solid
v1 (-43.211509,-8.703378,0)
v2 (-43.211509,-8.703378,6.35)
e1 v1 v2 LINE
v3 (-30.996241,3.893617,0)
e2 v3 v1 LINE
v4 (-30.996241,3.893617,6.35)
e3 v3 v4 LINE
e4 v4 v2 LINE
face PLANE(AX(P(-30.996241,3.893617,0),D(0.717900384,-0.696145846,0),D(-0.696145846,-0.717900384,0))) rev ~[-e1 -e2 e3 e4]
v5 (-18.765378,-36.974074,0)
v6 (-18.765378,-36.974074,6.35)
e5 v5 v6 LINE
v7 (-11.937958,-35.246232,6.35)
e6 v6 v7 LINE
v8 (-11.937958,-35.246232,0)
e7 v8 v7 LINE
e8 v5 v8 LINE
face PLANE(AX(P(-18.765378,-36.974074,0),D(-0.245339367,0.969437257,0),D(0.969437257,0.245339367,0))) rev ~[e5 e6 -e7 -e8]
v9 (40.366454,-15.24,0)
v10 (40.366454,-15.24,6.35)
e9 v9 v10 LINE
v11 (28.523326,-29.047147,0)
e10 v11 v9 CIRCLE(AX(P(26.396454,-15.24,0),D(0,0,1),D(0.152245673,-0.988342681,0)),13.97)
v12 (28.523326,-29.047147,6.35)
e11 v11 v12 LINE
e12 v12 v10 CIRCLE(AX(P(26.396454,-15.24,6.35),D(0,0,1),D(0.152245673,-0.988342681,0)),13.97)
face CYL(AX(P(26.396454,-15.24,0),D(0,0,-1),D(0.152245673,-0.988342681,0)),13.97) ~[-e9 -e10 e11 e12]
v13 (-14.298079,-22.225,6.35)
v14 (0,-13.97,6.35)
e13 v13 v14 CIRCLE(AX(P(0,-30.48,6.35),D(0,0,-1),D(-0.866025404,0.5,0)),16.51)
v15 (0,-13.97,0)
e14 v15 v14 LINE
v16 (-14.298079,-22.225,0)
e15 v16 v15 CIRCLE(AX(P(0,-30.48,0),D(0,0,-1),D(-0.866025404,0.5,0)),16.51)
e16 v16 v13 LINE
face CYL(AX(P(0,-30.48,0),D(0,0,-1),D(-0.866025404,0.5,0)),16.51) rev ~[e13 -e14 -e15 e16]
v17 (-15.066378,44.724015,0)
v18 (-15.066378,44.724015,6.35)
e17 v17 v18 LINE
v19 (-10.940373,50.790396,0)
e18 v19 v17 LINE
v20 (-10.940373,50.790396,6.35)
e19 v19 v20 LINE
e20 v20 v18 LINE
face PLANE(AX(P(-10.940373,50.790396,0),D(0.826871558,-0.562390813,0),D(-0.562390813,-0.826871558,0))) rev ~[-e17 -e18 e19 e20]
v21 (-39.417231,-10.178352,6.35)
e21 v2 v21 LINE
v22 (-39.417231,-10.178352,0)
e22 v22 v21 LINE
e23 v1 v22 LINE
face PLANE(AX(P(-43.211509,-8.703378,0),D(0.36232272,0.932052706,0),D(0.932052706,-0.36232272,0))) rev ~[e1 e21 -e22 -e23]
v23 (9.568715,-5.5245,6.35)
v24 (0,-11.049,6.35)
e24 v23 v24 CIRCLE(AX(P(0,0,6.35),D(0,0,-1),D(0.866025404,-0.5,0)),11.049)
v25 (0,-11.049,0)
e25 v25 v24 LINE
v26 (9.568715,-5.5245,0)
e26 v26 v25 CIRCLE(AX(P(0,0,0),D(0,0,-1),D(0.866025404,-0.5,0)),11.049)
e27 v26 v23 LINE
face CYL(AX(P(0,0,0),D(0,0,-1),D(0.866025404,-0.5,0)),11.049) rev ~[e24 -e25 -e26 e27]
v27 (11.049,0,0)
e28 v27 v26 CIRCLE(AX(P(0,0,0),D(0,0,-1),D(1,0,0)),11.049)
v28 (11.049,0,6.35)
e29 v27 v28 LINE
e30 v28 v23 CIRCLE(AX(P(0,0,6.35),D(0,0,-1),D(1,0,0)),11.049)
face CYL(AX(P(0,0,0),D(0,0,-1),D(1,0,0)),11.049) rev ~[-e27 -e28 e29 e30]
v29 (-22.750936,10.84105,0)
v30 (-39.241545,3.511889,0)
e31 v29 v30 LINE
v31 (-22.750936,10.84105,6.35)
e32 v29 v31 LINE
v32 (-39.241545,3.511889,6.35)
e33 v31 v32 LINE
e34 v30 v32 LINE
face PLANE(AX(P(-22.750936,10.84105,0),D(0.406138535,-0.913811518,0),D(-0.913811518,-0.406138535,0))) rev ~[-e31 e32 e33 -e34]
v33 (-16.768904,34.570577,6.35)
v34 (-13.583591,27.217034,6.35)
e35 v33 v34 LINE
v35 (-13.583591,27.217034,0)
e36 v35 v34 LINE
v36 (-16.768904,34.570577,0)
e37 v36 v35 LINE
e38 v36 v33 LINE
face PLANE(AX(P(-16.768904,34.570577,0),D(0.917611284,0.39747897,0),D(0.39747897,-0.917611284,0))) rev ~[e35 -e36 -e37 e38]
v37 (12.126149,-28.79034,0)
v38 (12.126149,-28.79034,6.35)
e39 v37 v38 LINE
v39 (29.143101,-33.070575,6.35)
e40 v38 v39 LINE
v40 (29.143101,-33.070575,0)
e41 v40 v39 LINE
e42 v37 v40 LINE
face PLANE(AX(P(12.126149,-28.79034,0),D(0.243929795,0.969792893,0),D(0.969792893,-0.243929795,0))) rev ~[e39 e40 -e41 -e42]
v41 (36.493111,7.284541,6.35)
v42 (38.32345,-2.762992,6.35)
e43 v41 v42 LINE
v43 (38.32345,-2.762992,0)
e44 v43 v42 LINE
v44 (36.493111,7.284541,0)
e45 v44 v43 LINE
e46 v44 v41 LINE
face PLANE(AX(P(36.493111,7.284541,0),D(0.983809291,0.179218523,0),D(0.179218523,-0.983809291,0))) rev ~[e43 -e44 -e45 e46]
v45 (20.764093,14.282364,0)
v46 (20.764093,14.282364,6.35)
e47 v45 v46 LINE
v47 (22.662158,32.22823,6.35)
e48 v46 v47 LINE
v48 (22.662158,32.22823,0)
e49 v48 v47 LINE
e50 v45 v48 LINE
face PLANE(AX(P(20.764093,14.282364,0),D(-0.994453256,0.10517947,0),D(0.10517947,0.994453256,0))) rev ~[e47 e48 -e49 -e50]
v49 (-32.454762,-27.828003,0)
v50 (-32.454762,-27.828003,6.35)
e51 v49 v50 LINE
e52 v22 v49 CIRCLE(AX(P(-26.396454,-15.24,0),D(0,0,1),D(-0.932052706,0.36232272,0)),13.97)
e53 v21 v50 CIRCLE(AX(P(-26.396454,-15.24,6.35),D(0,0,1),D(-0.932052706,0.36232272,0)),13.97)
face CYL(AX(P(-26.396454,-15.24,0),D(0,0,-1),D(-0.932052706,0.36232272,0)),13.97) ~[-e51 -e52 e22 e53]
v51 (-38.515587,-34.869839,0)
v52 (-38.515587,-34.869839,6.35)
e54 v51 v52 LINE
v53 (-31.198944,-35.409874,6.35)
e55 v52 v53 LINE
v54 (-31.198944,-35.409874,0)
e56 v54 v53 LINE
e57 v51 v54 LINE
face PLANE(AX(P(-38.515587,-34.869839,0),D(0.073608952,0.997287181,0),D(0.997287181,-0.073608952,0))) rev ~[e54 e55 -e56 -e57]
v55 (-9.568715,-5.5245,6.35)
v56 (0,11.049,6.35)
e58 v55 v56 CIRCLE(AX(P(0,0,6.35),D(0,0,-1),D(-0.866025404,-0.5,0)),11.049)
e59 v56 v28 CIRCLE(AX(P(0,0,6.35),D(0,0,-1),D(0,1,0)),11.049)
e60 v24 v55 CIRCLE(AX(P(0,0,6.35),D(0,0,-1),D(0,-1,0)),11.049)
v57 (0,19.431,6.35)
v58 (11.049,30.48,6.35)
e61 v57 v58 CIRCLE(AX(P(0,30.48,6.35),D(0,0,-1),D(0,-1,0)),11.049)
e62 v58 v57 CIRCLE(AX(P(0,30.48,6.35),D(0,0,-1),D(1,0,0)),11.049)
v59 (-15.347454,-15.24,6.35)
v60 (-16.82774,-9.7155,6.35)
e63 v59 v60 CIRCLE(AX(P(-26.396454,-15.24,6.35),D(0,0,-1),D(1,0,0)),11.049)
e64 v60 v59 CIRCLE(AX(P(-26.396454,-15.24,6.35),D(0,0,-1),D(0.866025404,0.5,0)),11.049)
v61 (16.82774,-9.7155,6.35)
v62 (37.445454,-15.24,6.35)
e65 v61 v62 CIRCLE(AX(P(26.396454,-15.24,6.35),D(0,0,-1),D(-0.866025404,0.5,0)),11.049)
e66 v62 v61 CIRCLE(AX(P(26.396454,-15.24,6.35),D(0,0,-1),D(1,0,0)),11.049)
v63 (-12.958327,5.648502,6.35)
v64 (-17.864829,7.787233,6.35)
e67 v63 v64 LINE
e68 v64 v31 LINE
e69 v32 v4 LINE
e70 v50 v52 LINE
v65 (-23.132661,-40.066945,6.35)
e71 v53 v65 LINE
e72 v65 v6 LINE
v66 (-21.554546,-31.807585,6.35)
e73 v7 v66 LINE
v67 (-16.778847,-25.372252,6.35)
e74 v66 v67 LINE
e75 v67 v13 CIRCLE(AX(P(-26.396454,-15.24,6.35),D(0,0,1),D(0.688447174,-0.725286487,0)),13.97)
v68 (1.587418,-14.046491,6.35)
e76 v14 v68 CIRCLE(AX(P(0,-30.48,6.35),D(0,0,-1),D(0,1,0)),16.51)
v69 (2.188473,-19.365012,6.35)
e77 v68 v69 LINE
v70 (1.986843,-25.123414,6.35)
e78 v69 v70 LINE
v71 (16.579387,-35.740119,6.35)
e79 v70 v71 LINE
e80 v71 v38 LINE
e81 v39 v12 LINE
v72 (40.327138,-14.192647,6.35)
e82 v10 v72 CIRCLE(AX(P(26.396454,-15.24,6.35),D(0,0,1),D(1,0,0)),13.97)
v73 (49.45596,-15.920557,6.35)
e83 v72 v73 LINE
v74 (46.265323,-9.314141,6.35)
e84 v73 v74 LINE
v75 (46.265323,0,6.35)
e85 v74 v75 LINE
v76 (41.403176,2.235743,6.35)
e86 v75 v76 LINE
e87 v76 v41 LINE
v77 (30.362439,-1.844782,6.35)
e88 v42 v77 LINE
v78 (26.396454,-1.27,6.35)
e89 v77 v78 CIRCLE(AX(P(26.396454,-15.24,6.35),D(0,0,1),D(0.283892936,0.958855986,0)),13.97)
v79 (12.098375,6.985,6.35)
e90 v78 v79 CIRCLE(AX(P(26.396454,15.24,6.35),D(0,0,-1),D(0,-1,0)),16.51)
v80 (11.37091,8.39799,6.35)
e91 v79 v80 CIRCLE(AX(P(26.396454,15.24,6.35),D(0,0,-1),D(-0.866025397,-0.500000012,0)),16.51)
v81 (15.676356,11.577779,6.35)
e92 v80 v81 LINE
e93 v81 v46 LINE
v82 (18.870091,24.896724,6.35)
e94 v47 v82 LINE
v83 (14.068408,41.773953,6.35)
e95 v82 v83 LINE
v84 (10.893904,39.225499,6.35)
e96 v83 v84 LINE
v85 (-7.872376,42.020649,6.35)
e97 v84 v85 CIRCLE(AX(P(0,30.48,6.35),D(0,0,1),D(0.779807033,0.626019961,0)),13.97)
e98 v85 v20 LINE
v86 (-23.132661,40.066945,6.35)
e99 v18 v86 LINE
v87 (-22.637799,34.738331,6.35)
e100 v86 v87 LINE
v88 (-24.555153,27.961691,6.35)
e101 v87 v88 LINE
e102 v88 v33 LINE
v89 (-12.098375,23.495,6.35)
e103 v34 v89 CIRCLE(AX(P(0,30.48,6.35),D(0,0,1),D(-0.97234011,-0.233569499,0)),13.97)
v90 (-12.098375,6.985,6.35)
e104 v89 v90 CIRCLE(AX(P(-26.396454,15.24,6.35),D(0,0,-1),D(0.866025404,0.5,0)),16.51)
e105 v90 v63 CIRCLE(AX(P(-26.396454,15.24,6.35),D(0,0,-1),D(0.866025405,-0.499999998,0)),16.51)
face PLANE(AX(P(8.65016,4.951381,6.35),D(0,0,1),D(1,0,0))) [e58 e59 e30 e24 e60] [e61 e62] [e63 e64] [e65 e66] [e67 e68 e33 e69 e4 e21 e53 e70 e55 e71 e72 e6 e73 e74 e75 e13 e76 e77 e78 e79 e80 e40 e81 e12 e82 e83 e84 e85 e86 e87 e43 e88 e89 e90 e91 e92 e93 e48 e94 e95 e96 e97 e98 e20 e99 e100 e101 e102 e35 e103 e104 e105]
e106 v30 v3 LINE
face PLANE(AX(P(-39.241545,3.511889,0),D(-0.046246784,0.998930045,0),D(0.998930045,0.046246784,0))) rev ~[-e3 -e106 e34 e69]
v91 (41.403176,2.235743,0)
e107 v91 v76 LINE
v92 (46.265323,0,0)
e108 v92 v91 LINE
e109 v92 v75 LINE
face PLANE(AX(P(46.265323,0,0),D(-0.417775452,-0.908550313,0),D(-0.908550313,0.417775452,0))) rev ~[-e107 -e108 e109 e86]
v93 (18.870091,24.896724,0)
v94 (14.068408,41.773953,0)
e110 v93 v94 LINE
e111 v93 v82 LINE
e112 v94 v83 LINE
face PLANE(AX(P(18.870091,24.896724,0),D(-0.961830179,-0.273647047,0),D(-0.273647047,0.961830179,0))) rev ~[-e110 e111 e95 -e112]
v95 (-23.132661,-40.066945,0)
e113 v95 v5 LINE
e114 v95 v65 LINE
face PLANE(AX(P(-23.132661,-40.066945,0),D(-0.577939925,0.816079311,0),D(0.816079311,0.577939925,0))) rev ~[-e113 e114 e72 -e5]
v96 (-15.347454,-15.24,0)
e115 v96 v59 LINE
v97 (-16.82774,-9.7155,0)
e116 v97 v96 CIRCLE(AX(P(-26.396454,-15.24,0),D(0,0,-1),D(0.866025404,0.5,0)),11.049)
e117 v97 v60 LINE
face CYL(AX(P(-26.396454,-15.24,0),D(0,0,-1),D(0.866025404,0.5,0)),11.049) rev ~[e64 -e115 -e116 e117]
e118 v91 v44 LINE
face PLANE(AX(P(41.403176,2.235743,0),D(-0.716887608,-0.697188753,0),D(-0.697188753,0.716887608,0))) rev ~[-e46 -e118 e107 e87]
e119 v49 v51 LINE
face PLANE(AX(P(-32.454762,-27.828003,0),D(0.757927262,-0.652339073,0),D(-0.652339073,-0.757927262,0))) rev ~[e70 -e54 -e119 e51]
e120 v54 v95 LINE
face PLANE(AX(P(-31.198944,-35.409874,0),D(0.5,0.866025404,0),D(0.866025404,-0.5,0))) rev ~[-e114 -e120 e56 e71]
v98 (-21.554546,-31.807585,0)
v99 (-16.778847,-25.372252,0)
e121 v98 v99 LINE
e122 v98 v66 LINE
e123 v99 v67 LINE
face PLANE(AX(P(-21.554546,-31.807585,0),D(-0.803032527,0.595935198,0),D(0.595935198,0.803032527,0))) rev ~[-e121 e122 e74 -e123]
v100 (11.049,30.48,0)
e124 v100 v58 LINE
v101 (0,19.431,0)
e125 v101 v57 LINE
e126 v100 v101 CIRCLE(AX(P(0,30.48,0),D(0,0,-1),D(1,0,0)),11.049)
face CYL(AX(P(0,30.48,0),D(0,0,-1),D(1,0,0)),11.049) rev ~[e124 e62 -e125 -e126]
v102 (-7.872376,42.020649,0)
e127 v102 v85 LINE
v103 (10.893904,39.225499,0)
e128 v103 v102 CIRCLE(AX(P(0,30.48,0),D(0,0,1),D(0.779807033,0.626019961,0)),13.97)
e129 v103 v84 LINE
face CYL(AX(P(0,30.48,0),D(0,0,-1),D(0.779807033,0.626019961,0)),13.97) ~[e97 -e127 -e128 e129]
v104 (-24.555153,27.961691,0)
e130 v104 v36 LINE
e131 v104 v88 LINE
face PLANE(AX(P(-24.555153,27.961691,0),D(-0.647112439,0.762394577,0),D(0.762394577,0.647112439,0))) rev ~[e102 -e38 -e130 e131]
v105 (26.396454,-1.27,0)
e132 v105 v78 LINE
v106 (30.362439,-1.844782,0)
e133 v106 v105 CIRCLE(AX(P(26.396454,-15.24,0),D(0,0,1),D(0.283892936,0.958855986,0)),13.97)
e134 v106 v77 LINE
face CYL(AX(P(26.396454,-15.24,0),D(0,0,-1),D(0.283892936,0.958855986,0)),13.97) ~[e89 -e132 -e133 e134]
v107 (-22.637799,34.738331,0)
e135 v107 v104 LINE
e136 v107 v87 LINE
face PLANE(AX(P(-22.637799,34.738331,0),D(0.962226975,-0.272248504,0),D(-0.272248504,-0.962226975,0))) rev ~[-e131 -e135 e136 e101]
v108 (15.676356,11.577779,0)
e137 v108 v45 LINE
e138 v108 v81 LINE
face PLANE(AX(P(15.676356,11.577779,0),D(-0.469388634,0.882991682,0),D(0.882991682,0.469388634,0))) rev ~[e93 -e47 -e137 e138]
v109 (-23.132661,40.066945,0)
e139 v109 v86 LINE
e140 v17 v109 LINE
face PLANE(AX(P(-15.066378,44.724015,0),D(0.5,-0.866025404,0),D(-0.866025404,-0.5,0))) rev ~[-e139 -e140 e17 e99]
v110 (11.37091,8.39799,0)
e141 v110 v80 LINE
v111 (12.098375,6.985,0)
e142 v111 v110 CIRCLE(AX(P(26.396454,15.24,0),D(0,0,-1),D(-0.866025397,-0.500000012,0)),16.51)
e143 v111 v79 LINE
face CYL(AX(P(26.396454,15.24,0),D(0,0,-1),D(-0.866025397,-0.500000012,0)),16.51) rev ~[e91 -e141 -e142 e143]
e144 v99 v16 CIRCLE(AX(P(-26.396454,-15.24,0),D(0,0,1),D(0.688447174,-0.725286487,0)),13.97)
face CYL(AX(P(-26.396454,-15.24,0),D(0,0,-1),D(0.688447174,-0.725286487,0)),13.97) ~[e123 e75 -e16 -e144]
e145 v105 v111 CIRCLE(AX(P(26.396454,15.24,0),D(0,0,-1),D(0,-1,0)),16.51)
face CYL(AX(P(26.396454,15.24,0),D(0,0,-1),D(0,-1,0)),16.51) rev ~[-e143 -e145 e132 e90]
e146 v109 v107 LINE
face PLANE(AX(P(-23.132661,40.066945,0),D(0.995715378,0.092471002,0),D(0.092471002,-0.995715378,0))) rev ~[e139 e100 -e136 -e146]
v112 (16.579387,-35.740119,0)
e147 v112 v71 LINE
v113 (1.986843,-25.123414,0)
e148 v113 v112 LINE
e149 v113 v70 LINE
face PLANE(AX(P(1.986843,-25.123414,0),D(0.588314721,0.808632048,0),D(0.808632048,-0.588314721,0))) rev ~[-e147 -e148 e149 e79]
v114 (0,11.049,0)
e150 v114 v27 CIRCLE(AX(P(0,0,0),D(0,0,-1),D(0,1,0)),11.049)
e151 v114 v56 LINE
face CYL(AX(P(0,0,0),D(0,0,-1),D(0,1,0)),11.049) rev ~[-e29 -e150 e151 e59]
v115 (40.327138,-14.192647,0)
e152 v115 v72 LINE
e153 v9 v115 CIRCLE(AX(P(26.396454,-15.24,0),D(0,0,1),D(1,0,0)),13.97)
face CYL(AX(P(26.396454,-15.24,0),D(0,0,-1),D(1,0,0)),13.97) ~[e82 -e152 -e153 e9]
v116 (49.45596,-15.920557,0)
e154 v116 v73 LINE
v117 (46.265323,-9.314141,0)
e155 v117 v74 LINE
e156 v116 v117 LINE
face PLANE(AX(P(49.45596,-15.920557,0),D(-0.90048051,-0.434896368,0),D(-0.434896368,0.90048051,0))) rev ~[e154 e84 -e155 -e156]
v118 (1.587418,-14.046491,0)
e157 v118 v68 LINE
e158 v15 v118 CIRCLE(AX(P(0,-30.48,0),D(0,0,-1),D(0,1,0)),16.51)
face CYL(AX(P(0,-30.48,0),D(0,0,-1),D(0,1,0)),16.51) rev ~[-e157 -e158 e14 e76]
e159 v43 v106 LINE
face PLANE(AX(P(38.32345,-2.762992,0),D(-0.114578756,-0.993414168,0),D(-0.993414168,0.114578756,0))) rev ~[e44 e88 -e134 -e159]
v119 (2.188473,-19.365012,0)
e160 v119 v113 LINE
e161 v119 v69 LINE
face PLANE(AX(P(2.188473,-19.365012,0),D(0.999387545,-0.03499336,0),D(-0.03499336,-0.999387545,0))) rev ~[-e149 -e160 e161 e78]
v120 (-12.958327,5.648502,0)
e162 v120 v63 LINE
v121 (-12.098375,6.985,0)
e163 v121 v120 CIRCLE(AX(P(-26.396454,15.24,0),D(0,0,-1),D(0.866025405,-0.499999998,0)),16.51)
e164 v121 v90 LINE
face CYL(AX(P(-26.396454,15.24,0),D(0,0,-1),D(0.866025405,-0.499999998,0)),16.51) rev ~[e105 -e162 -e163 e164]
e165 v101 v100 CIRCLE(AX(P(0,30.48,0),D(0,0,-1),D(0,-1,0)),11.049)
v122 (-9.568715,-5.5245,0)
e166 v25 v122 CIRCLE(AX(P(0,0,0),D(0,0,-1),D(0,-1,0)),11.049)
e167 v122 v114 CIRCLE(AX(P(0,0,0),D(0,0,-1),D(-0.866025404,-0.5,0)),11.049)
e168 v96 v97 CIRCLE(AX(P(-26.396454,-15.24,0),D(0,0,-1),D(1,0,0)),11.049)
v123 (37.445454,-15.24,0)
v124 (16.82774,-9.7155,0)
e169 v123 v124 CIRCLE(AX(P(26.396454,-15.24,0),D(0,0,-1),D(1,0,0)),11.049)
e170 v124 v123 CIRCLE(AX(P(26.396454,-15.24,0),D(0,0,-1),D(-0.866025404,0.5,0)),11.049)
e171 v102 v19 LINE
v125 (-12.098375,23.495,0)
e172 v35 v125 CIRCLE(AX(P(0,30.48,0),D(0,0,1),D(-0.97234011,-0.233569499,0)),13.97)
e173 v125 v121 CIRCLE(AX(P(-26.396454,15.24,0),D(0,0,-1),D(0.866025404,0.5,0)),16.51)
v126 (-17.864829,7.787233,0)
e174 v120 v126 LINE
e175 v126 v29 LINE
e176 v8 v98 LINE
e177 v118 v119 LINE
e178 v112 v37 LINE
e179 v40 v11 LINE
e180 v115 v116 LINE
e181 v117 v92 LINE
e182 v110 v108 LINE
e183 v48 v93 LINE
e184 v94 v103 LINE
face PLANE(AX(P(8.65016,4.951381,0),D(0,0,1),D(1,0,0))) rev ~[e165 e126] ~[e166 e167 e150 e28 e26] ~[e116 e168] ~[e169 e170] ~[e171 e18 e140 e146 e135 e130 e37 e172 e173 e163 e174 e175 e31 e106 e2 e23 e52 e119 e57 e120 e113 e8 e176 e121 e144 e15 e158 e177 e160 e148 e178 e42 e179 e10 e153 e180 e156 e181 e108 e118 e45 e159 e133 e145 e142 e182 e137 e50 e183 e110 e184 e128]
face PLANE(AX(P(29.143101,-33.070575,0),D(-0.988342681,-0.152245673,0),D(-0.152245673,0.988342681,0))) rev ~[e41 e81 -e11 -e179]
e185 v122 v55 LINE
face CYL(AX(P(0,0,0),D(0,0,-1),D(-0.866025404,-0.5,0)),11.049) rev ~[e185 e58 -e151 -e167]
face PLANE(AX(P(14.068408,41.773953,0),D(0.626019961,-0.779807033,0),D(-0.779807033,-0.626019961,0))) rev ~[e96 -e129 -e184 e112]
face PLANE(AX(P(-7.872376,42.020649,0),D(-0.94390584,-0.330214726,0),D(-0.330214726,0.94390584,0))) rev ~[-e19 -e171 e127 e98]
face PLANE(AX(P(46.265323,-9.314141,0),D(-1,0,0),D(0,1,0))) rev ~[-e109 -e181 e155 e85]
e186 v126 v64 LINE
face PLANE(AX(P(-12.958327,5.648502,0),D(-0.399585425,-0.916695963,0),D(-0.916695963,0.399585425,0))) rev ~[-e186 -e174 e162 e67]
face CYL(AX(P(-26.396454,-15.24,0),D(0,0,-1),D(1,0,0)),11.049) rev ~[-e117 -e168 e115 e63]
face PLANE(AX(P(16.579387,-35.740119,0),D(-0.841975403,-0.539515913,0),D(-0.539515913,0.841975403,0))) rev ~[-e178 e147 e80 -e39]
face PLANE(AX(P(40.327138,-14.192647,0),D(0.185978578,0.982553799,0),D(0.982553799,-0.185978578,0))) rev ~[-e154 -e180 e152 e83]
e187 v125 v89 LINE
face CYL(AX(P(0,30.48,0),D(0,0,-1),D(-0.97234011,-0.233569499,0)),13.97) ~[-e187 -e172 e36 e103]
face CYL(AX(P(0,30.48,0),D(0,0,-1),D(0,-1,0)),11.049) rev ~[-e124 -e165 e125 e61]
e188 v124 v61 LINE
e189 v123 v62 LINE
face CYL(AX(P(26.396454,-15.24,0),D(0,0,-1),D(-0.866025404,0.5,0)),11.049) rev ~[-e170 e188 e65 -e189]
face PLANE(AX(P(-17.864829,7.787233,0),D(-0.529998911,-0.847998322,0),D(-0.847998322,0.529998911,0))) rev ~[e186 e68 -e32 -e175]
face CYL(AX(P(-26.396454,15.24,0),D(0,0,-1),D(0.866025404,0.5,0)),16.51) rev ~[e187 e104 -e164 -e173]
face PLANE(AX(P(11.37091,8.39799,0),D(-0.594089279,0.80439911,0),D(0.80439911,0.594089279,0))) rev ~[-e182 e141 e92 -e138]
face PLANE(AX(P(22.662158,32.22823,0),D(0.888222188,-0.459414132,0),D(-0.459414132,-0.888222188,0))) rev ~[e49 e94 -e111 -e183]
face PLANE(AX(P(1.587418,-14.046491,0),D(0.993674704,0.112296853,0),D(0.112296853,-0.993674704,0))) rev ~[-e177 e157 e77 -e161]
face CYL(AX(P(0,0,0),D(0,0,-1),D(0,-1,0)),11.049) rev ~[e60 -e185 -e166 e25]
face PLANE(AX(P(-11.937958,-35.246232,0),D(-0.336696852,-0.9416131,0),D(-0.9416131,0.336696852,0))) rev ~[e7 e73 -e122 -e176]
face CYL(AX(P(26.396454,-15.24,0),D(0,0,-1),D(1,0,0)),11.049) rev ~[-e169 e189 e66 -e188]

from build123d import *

# Parameters (mm, degrees)
F1_DEPTH = 6.35


with BuildPart() as f1:
    # F0 (on Top) → F1 (new body)
    with BuildSketch(Plane.XY):
        with BuildLine():
            ThreePointArc((12.0983748909, -6.985), (13.4939837933, -3.6157020601), (13.97, 0))
            ThreePointArc((13.97, 0), (13.4939838226, 3.6157019506), (12.0983750042, 6.9849998037))
            ThreePointArc((12.0983750042, 6.9849998037), (11.6864099278, 7.6543270769), (11.2374555691, 8.2994272292))
            ThreePointArc((11.2374555691, 8.2994272292), (6.2935642369, 12.4720467124), (0, 13.97))
            Line((0, 13.97), (0, 11.049))
            ThreePointArc((0, 11.049), (7.8128228253, 7.8128228253), (11.049, 0))
            ThreePointArc((11.049, 0), (10.6725144547, -2.8596916293), (9.5687146864, -5.5245))
            Line((9.5687146864, -5.5245), (12.0983748909, -6.985))
        make_face()
        with BuildLine():
            ThreePointArc((12.0983750042, 6.9849998037), (13.4939838226, 3.6157019506), (13.97, 0))
            ThreePointArc((13.97, 0), (13.4939837933, -3.6157020601), (12.0983748909, -6.985))
            Line((12.0983748909, -6.985), (14.2980794165, -8.255))
            ThreePointArc((14.2980794165, -8.255), (19.4114543073, -3.1416251091), (26.3964543073, -1.27))
            ThreePointArc((26.3964543073, -1.27), (18.1414544055, 0.9419205269), (12.0983750042, 6.9849998037))
        make_face()
        with BuildLine():
            ThreePointArc((11.2374555691, 8.2994272292), (11.6864099278, 7.6543270769), (12.0983750042, 6.9849998037))
            ThreePointArc((12.0983750042, 6.9849998037), (11.7176305412, 7.6827364184), (11.3709095484, 8.3979897181))
            Line((11.3709095484, 8.3979897181), (11.2374555691, 8.2994272292))
        make_face()
        with BuildLine():
            Line((14.2980794165, -8.255), (12.0983748909, -6.985))
            ThreePointArc((12.0983748909, -6.985), (7.6543271717, -11.6864098657), (1.5687870328, -13.8816356113))
            Line((1.5687870328, -13.8816356113), (1.5874176624, -14.0464913921))
            ThreePointArc((1.5874176624, -14.0464913921), (8.9336025837, -16.5958059335), (14.2980794165, -22.225))
            ThreePointArc((14.2980794165, -22.225), (12.4264543073, -15.24), (14.2980794165, -8.255))
        make_face()
        with BuildLine():
            ThreePointArc((1.5687870328, -13.8816356113), (7.6543271717, -11.6864098657), (12.0983748909, -6.985))
            Line((12.0983748909, -6.985), (9.5687146864, -5.5245))
            ThreePointArc((9.5687146864, -5.5245), (5.5245, -9.5687146864), (0, -11.049))
            Line((0, -11.049), (0, -13.97))
            ThreePointArc((8e-10, -13.97), (0.7856368471, -13.9478914085), (1.5687870328, -13.8816356113))
        make_face()
        with BuildLine():
            ThreePointArc((0, 13.97), (6.2935642369, 12.4720467124), (11.2374555691, 8.2994272292))
            Line((11.2374555691, 8.2994272292), (11.3709095484, 8.3979897181))
            ThreePointArc((11.3709095484, 8.3979897181), (9.9055882428, 16.0346297515), (12.0983748909, 23.495))
            ThreePointArc((12.0983748909, 23.495), (6.985, 18.3816251091), (0, 16.51))
            Line((0, 16.51), (0, 13.97))
        make_face()
        with BuildLine():
            ThreePointArc((12.0983748909, 23.495), (9.9055882428, 16.0346297515), (11.3709095484, 8.3979897181))
            Line((11.3709095484, 8.3979897181), (15.6763562571, 11.5777790778))
            Line((15.6763562571, 11.5777790778), (16.7196467519, 28.9592776589))
            Line((16.7196467519, 28.9592776589), (14.0684077992, 41.7739531481))
            Line((14.0684077992, 41.7739531481), (10.8939042526, 39.22549885))
            ThreePointArc((10.8939042526, 39.22549885), (13.1785572505, 35.1153563828), (13.97, 30.48))
            ThreePointArc((13.97, 30.48), (13.4939837933, 26.8642979399), (12.0983748909, 23.495))
        make_face()
        with BuildLine():
            ThreePointArc((30.3624386184, -1.8447818814), (28.4001637278, -1.4144421972), (26.3964543073, -1.27))
            ThreePointArc((26.3964543073, -1.27), (19.4114543073, -3.1416251091), (14.2980794165, -8.255))
            ThreePointArc((14.2980794165, -8.255), (12.4264543073, -15.24), (14.2980794165, -22.225))
            ThreePointArc((14.2980794165, -22.225), (20.3554990408, -27.8363391296), (28.5233263539, -29.0471472541))
            ThreePointArc((28.5233263539, -29.0471472541), (37.0000693157, -24.3352871728), (40.3664543073, -15.24))
            ThreePointArc((40.3664543073, -15.24), (40.3566217968, -14.7159545186), (40.327138106, -14.1926467154))
            ThreePointArc((40.327138106, -14.1926467154), (37.2679824358, -6.4667009538), (30.3624386184, -1.8447818814))
        make_face()
        with BuildLine():
            ThreePointArc((37.4454543073, -15.24), (23.536762678, -25.9125144547), (16.8277396209, -9.7155))
            ThreePointArc((16.8277396209, -9.7155), (29.2561459367, -4.5674855453), (37.4454543073, -15.24))
        make_face(mode=Mode.SUBTRACT)
        with BuildLine():
            Line((1.5874176624, -14.0464913921), (1.5687870328, -13.8816356113))
            ThreePointArc((1.5687870328, -13.8816356113), (0.7856368471, -13.9478914085), (8e-10, -13.97))
            ThreePointArc((8e-10, -13.97), (0.7946297519, -13.9891339355), (1.5874176624, -14.0464913921))
        make_face()
        with BuildLine():
            Line((0, 11.049), (0, 13.97))
            ThreePointArc((0, 13.97), (-6.9849999862, 12.0983748988), (-12.0983748749, 6.9850000276))
            ThreePointArc((-12.0983748749, 6.9850000276), (-12.4720467052, 6.2935642511), (-12.8062426019, 5.5822083821))
            ThreePointArc((-12.8062426019, 5.5822083821), (-13.9478914086, -0.7856368467), (-12.0983748909, -6.985))
            Line((-12.0983748909, -6.985), (-9.5687146864, -5.5245))
            ThreePointArc((-9.5687146864, -5.5245), (-9.5687146864, 5.5245), (0, 11.049))
        make_face()
        with BuildLine():
            ThreePointArc((-12.0983748749, 6.9850000276), (-6.9849999862, 12.0983748988), (0, 13.97))
            Line((0, 13.97), (0, 16.51))
            ThreePointArc((0, 16.51), (-6.985, 18.3816251091), (-12.0983748909, 23.495))
            ThreePointArc((-12.0983748909, 23.495), (-9.8864543073, 15.2400000159), (-12.0983748749, 6.9850000276))
        make_face()
        with BuildLine():
            ThreePointArc((0, 16.51), (6.985, 18.3816251091), (12.0983748909, 23.495))
            ThreePointArc((12.0983748909, 23.495), (13.4939837933, 26.8642979399), (13.97, 30.48))
            ThreePointArc((13.97, 30.48), (13.1785572505, 35.1153563828), (10.8939042526, 39.22549885))
            ThreePointArc((10.8939042526, 39.22549885), (2.0580632257, 44.2975712685), (-7.8723764505, 42.0206494194))
            ThreePointArc((-7.8723764505, 42.0206494194), (-13.0336639132, 35.5083700141), (-13.5835913355, 27.2170341051))
            ThreePointArc((-13.5835913355, 27.2170341051), (-12.9751389889, 25.3024843585), (-12.0983748909, 23.495))
            ThreePointArc((-12.0983748909, 23.495), (-6.985, 18.3816251091), (0, 16.51))
        make_face()
        with BuildLine():
            ThreePointArc((11.049, 30.48), (7.8128228253, 22.6671771747), (0, 19.431))
            ThreePointArc((0, 19.431), (-7.8128228253, 38.2928228253), (11.049, 30.48))
        make_face(mode=Mode.SUBTRACT)
        Polygon((16.7196467519, 28.9592776589), (15.6763562571, 11.5777790778), (20.7640930884, 14.2823638317), (22.6621578626, 32.2282300832), (18.870091234, 24.8967235421), (14.0684077992, 41.7739531481), align=None)
        with BuildLine():
            Line((38.3234498435, -2.7629918247), (30.3624386184, -1.8447818814))
            ThreePointArc((30.3624386184, -1.8447818814), (37.2679824358, -6.4667009538), (40.327138106, -14.1926467154))
            Line((40.327138106, -14.1926467154), (49.4559597003, -15.9205574542))
            Line((49.4559597003, -15.9205574542), (46.265322715, -9.3141412362))
            Line((46.265322715, -9.3141412362), (46.265322715, 0))
            Line((46.265322715, 0), (41.4031764655, 2.2357433816))
            Line((41.4031764655, 2.2357433816), (36.4931114018, 7.2845408358))
            Line((36.4931114018, 7.2845408358), (38.3234498435, -2.7629918247))
        make_face()
        with BuildLine():
            ThreePointArc((-14.2980794165, -22.225), (-8.2549999996, -16.1819205833), (8e-10, -13.97))
            ThreePointArc((8e-10, -13.97), (-6.9849999996, -12.0983748911), (-12.0983748909, -6.985))
            Line((-12.0983748909, -6.985), (-14.2980794165, -8.255))
            ThreePointArc((-14.2980794165, -8.255), (-12.9024705141, -11.6242979399), (-12.4264543073, -15.24))
            ThreePointArc((-12.4264543073, -15.24), (-12.9024705141, -18.8557020601), (-14.2980794165, -22.225))
        make_face()
        with BuildLine():
            ThreePointArc((-12.0983748909, -6.985), (-6.9849999996, -12.0983748911), (8e-10, -13.97))
            Line((0, -13.97), (0, -11.049))
            ThreePointArc((0, -11.049), (-5.5245, -9.5687146864), (-9.5687146864, -5.5245))
            Line((-9.5687146864, -5.5245), (-12.0983748909, -6.985))
        make_face()
        with BuildLine():
            ThreePointArc((14.2980794165, -22.225), (8.9336025837, -16.5958059335), (1.5874176624, -14.0464913921))
            Line((1.5874176624, -14.0464913921), (2.1884726722, -19.3650122963))
            Line((2.1884726722, -19.3650122963), (16.7196467519, -28.9592776589))
            Line((16.7196467519, -28.9592776589), (29.1431007431, -33.0705751189))
            Line((29.1431007431, -33.0705751189), (28.5233263539, -29.0471472541))
            ThreePointArc((28.5233263539, -29.0471472541), (20.3554990408, -27.8363391296), (14.2980794165, -22.225))
        make_face()
        with BuildLine():
            ThreePointArc((-12.8062426019, 5.5822083821), (-12.4720467052, 6.2935642511), (-12.0983748749, 6.9850000276))
            ThreePointArc((-12.0983748749, 6.9850000276), (-12.5122602322, 6.3063974297), (-12.9583272108, 5.648501674))
            Line((-12.9583272108, 5.648501674), (-12.8062426019, 5.5822083821))
        make_face()
        with BuildLine():
            Line((-14.2980794165, -8.255), (-12.0983748909, -6.985))
            ThreePointArc((-12.0983748909, -6.985), (-13.9478914086, -0.7856368467), (-12.8062426019, 5.5822083821))
            Line((-12.8062426019, 5.5822083821), (-12.9583272108, 5.648501674))
            ThreePointArc((-12.9583272108, 5.648501674), (-18.8391908265, 0.561176182), (-26.3964543073, -1.27))
            ThreePointArc((-26.3964543073, -1.27), (-19.4114543073, -3.1416251091), (-14.2980794165, -8.255))
        make_face()
        with BuildLine():
            ThreePointArc((-16.778847283, -25.3722522237), (-15.4250247389, -23.8880421613), (-14.2980794165, -22.225))
            ThreePointArc((-14.2980794165, -22.225), (-12.9024705141, -18.8557020601), (-12.4264543073, -15.24))
            ThreePointArc((-12.4264543073, -15.24), (-12.9024705141, -11.6242979399), (-14.2980794165, -8.255))
            ThreePointArc((-14.2980794165, -8.255), (-19.4114543073, -3.1416251091), (-26.3964543073, -1.27))
            ThreePointArc((-26.3964543073, -1.27), (-34.2847263549, -3.7102097112), (-39.4172306065, -10.1783515958))
            ThreePointArc((-39.4172306065, -10.1783515958), (-39.3918536573, -20.3664505981), (-32.4547616555, -27.828002704))
            ThreePointArc((-32.4547616555, -27.828002704), (-24.2343185226, -29.0416690602), (-16.778847283, -25.3722522237))
        make_face()
        with BuildLine():
            ThreePointArc((-15.3474543073, -15.24), (-37.068968762, -18.0996916293), (-16.8277396209, -9.7155))
            ThreePointArc((-16.8277396209, -9.7155), (-15.7239398527, -12.3803083707), (-15.3474543073, -15.24))
        make_face(mode=Mode.SUBTRACT)
        Polygon((16.7196467519, -28.9592776589), (2.1884726722, -19.3650122963), (1.9868433601, -25.123414017), (16.5793870397, -35.7401194552), (12.1261494415, -28.7903401514), (29.1431007431, -33.0705751189), align=None)
        with BuildLine():
            ThreePointArc((-26.3964543073, -1.27), (-18.8391908265, 0.561176182), (-12.9583272108, 5.648501674))
            Line((-12.9583272108, 5.648501674), (-17.8648289293, 7.7872332186))
            Line((-17.8648289293, 7.7872332186), (-33.4392935038, 0))
            Line((-33.4392935038, 0), (-43.2115085423, -8.7033780292))
            Line((-43.2115085423, -8.7033780292), (-39.4172306065, -10.1783515958))
            ThreePointArc((-39.4172306065, -10.1783515958), (-34.2847263549, -3.7102097112), (-26.3964543073, -1.27))
        make_face()
        with BuildLine():
            Line((-21.5545460324, -31.8075852128), (-16.778847283, -25.3722522237))
            ThreePointArc((-16.778847283, -25.3722522237), (-24.2343185226, -29.0416690602), (-32.4547616555, -27.828002704))
            Line((-32.4547616555, -27.828002704), (-38.5155870479, -34.8698387419))
            Line((-38.5155870479, -34.8698387419), (-31.1989442825, -35.4098741674))
            Line((-31.1989442825, -35.4098741674), (-23.1326613575, -40.0669447855))
            Line((-23.1326613575, -40.0669447855), (-18.7653776679, -36.9740743073))
            Line((-18.7653776679, -36.9740743073), (-11.9379582822, -35.246231955))
            Line((-11.9379582822, -35.246231955), (-21.5545460324, -31.8075852128))
        make_face()
        Polygon((-33.4392935038, 0), (-17.8648289293, 7.7872332186), (-22.7509364486, 10.8410501853), (-39.2415449023, 3.511889372), (-30.9962406754, 3.8936166093), (-43.2115085423, -8.7033780292), align=None)
        with BuildLine():
            Line((-16.7689038112, 34.5705770375), (-13.5835913355, 27.2170341051))
            ThreePointArc((-13.5835913355, 27.2170341051), (-13.0336639132, 35.5083700141), (-7.8723764505, 42.0206494194))
            Line((-7.8723764505, 42.0206494194), (-10.9403726524, 50.7903961961))
            Line((-10.9403726524, 50.7903961961), (-15.0663784325, 44.7240154036))
            Line((-15.0663784325, 44.7240154036), (-23.1326613575, 40.0669447855))
            Line((-23.1326613575, 40.0669447855), (-22.6377987976, 34.7383309257))
            Line((-22.6377987976, 34.7383309257), (-24.5551531196, 27.9616911192))
            Line((-24.5551531196, 27.9616911192), (-16.7689038112, 34.5705770375))
        make_face()
    extrude(amount=F1_DEPTH)


solid = f1.part
